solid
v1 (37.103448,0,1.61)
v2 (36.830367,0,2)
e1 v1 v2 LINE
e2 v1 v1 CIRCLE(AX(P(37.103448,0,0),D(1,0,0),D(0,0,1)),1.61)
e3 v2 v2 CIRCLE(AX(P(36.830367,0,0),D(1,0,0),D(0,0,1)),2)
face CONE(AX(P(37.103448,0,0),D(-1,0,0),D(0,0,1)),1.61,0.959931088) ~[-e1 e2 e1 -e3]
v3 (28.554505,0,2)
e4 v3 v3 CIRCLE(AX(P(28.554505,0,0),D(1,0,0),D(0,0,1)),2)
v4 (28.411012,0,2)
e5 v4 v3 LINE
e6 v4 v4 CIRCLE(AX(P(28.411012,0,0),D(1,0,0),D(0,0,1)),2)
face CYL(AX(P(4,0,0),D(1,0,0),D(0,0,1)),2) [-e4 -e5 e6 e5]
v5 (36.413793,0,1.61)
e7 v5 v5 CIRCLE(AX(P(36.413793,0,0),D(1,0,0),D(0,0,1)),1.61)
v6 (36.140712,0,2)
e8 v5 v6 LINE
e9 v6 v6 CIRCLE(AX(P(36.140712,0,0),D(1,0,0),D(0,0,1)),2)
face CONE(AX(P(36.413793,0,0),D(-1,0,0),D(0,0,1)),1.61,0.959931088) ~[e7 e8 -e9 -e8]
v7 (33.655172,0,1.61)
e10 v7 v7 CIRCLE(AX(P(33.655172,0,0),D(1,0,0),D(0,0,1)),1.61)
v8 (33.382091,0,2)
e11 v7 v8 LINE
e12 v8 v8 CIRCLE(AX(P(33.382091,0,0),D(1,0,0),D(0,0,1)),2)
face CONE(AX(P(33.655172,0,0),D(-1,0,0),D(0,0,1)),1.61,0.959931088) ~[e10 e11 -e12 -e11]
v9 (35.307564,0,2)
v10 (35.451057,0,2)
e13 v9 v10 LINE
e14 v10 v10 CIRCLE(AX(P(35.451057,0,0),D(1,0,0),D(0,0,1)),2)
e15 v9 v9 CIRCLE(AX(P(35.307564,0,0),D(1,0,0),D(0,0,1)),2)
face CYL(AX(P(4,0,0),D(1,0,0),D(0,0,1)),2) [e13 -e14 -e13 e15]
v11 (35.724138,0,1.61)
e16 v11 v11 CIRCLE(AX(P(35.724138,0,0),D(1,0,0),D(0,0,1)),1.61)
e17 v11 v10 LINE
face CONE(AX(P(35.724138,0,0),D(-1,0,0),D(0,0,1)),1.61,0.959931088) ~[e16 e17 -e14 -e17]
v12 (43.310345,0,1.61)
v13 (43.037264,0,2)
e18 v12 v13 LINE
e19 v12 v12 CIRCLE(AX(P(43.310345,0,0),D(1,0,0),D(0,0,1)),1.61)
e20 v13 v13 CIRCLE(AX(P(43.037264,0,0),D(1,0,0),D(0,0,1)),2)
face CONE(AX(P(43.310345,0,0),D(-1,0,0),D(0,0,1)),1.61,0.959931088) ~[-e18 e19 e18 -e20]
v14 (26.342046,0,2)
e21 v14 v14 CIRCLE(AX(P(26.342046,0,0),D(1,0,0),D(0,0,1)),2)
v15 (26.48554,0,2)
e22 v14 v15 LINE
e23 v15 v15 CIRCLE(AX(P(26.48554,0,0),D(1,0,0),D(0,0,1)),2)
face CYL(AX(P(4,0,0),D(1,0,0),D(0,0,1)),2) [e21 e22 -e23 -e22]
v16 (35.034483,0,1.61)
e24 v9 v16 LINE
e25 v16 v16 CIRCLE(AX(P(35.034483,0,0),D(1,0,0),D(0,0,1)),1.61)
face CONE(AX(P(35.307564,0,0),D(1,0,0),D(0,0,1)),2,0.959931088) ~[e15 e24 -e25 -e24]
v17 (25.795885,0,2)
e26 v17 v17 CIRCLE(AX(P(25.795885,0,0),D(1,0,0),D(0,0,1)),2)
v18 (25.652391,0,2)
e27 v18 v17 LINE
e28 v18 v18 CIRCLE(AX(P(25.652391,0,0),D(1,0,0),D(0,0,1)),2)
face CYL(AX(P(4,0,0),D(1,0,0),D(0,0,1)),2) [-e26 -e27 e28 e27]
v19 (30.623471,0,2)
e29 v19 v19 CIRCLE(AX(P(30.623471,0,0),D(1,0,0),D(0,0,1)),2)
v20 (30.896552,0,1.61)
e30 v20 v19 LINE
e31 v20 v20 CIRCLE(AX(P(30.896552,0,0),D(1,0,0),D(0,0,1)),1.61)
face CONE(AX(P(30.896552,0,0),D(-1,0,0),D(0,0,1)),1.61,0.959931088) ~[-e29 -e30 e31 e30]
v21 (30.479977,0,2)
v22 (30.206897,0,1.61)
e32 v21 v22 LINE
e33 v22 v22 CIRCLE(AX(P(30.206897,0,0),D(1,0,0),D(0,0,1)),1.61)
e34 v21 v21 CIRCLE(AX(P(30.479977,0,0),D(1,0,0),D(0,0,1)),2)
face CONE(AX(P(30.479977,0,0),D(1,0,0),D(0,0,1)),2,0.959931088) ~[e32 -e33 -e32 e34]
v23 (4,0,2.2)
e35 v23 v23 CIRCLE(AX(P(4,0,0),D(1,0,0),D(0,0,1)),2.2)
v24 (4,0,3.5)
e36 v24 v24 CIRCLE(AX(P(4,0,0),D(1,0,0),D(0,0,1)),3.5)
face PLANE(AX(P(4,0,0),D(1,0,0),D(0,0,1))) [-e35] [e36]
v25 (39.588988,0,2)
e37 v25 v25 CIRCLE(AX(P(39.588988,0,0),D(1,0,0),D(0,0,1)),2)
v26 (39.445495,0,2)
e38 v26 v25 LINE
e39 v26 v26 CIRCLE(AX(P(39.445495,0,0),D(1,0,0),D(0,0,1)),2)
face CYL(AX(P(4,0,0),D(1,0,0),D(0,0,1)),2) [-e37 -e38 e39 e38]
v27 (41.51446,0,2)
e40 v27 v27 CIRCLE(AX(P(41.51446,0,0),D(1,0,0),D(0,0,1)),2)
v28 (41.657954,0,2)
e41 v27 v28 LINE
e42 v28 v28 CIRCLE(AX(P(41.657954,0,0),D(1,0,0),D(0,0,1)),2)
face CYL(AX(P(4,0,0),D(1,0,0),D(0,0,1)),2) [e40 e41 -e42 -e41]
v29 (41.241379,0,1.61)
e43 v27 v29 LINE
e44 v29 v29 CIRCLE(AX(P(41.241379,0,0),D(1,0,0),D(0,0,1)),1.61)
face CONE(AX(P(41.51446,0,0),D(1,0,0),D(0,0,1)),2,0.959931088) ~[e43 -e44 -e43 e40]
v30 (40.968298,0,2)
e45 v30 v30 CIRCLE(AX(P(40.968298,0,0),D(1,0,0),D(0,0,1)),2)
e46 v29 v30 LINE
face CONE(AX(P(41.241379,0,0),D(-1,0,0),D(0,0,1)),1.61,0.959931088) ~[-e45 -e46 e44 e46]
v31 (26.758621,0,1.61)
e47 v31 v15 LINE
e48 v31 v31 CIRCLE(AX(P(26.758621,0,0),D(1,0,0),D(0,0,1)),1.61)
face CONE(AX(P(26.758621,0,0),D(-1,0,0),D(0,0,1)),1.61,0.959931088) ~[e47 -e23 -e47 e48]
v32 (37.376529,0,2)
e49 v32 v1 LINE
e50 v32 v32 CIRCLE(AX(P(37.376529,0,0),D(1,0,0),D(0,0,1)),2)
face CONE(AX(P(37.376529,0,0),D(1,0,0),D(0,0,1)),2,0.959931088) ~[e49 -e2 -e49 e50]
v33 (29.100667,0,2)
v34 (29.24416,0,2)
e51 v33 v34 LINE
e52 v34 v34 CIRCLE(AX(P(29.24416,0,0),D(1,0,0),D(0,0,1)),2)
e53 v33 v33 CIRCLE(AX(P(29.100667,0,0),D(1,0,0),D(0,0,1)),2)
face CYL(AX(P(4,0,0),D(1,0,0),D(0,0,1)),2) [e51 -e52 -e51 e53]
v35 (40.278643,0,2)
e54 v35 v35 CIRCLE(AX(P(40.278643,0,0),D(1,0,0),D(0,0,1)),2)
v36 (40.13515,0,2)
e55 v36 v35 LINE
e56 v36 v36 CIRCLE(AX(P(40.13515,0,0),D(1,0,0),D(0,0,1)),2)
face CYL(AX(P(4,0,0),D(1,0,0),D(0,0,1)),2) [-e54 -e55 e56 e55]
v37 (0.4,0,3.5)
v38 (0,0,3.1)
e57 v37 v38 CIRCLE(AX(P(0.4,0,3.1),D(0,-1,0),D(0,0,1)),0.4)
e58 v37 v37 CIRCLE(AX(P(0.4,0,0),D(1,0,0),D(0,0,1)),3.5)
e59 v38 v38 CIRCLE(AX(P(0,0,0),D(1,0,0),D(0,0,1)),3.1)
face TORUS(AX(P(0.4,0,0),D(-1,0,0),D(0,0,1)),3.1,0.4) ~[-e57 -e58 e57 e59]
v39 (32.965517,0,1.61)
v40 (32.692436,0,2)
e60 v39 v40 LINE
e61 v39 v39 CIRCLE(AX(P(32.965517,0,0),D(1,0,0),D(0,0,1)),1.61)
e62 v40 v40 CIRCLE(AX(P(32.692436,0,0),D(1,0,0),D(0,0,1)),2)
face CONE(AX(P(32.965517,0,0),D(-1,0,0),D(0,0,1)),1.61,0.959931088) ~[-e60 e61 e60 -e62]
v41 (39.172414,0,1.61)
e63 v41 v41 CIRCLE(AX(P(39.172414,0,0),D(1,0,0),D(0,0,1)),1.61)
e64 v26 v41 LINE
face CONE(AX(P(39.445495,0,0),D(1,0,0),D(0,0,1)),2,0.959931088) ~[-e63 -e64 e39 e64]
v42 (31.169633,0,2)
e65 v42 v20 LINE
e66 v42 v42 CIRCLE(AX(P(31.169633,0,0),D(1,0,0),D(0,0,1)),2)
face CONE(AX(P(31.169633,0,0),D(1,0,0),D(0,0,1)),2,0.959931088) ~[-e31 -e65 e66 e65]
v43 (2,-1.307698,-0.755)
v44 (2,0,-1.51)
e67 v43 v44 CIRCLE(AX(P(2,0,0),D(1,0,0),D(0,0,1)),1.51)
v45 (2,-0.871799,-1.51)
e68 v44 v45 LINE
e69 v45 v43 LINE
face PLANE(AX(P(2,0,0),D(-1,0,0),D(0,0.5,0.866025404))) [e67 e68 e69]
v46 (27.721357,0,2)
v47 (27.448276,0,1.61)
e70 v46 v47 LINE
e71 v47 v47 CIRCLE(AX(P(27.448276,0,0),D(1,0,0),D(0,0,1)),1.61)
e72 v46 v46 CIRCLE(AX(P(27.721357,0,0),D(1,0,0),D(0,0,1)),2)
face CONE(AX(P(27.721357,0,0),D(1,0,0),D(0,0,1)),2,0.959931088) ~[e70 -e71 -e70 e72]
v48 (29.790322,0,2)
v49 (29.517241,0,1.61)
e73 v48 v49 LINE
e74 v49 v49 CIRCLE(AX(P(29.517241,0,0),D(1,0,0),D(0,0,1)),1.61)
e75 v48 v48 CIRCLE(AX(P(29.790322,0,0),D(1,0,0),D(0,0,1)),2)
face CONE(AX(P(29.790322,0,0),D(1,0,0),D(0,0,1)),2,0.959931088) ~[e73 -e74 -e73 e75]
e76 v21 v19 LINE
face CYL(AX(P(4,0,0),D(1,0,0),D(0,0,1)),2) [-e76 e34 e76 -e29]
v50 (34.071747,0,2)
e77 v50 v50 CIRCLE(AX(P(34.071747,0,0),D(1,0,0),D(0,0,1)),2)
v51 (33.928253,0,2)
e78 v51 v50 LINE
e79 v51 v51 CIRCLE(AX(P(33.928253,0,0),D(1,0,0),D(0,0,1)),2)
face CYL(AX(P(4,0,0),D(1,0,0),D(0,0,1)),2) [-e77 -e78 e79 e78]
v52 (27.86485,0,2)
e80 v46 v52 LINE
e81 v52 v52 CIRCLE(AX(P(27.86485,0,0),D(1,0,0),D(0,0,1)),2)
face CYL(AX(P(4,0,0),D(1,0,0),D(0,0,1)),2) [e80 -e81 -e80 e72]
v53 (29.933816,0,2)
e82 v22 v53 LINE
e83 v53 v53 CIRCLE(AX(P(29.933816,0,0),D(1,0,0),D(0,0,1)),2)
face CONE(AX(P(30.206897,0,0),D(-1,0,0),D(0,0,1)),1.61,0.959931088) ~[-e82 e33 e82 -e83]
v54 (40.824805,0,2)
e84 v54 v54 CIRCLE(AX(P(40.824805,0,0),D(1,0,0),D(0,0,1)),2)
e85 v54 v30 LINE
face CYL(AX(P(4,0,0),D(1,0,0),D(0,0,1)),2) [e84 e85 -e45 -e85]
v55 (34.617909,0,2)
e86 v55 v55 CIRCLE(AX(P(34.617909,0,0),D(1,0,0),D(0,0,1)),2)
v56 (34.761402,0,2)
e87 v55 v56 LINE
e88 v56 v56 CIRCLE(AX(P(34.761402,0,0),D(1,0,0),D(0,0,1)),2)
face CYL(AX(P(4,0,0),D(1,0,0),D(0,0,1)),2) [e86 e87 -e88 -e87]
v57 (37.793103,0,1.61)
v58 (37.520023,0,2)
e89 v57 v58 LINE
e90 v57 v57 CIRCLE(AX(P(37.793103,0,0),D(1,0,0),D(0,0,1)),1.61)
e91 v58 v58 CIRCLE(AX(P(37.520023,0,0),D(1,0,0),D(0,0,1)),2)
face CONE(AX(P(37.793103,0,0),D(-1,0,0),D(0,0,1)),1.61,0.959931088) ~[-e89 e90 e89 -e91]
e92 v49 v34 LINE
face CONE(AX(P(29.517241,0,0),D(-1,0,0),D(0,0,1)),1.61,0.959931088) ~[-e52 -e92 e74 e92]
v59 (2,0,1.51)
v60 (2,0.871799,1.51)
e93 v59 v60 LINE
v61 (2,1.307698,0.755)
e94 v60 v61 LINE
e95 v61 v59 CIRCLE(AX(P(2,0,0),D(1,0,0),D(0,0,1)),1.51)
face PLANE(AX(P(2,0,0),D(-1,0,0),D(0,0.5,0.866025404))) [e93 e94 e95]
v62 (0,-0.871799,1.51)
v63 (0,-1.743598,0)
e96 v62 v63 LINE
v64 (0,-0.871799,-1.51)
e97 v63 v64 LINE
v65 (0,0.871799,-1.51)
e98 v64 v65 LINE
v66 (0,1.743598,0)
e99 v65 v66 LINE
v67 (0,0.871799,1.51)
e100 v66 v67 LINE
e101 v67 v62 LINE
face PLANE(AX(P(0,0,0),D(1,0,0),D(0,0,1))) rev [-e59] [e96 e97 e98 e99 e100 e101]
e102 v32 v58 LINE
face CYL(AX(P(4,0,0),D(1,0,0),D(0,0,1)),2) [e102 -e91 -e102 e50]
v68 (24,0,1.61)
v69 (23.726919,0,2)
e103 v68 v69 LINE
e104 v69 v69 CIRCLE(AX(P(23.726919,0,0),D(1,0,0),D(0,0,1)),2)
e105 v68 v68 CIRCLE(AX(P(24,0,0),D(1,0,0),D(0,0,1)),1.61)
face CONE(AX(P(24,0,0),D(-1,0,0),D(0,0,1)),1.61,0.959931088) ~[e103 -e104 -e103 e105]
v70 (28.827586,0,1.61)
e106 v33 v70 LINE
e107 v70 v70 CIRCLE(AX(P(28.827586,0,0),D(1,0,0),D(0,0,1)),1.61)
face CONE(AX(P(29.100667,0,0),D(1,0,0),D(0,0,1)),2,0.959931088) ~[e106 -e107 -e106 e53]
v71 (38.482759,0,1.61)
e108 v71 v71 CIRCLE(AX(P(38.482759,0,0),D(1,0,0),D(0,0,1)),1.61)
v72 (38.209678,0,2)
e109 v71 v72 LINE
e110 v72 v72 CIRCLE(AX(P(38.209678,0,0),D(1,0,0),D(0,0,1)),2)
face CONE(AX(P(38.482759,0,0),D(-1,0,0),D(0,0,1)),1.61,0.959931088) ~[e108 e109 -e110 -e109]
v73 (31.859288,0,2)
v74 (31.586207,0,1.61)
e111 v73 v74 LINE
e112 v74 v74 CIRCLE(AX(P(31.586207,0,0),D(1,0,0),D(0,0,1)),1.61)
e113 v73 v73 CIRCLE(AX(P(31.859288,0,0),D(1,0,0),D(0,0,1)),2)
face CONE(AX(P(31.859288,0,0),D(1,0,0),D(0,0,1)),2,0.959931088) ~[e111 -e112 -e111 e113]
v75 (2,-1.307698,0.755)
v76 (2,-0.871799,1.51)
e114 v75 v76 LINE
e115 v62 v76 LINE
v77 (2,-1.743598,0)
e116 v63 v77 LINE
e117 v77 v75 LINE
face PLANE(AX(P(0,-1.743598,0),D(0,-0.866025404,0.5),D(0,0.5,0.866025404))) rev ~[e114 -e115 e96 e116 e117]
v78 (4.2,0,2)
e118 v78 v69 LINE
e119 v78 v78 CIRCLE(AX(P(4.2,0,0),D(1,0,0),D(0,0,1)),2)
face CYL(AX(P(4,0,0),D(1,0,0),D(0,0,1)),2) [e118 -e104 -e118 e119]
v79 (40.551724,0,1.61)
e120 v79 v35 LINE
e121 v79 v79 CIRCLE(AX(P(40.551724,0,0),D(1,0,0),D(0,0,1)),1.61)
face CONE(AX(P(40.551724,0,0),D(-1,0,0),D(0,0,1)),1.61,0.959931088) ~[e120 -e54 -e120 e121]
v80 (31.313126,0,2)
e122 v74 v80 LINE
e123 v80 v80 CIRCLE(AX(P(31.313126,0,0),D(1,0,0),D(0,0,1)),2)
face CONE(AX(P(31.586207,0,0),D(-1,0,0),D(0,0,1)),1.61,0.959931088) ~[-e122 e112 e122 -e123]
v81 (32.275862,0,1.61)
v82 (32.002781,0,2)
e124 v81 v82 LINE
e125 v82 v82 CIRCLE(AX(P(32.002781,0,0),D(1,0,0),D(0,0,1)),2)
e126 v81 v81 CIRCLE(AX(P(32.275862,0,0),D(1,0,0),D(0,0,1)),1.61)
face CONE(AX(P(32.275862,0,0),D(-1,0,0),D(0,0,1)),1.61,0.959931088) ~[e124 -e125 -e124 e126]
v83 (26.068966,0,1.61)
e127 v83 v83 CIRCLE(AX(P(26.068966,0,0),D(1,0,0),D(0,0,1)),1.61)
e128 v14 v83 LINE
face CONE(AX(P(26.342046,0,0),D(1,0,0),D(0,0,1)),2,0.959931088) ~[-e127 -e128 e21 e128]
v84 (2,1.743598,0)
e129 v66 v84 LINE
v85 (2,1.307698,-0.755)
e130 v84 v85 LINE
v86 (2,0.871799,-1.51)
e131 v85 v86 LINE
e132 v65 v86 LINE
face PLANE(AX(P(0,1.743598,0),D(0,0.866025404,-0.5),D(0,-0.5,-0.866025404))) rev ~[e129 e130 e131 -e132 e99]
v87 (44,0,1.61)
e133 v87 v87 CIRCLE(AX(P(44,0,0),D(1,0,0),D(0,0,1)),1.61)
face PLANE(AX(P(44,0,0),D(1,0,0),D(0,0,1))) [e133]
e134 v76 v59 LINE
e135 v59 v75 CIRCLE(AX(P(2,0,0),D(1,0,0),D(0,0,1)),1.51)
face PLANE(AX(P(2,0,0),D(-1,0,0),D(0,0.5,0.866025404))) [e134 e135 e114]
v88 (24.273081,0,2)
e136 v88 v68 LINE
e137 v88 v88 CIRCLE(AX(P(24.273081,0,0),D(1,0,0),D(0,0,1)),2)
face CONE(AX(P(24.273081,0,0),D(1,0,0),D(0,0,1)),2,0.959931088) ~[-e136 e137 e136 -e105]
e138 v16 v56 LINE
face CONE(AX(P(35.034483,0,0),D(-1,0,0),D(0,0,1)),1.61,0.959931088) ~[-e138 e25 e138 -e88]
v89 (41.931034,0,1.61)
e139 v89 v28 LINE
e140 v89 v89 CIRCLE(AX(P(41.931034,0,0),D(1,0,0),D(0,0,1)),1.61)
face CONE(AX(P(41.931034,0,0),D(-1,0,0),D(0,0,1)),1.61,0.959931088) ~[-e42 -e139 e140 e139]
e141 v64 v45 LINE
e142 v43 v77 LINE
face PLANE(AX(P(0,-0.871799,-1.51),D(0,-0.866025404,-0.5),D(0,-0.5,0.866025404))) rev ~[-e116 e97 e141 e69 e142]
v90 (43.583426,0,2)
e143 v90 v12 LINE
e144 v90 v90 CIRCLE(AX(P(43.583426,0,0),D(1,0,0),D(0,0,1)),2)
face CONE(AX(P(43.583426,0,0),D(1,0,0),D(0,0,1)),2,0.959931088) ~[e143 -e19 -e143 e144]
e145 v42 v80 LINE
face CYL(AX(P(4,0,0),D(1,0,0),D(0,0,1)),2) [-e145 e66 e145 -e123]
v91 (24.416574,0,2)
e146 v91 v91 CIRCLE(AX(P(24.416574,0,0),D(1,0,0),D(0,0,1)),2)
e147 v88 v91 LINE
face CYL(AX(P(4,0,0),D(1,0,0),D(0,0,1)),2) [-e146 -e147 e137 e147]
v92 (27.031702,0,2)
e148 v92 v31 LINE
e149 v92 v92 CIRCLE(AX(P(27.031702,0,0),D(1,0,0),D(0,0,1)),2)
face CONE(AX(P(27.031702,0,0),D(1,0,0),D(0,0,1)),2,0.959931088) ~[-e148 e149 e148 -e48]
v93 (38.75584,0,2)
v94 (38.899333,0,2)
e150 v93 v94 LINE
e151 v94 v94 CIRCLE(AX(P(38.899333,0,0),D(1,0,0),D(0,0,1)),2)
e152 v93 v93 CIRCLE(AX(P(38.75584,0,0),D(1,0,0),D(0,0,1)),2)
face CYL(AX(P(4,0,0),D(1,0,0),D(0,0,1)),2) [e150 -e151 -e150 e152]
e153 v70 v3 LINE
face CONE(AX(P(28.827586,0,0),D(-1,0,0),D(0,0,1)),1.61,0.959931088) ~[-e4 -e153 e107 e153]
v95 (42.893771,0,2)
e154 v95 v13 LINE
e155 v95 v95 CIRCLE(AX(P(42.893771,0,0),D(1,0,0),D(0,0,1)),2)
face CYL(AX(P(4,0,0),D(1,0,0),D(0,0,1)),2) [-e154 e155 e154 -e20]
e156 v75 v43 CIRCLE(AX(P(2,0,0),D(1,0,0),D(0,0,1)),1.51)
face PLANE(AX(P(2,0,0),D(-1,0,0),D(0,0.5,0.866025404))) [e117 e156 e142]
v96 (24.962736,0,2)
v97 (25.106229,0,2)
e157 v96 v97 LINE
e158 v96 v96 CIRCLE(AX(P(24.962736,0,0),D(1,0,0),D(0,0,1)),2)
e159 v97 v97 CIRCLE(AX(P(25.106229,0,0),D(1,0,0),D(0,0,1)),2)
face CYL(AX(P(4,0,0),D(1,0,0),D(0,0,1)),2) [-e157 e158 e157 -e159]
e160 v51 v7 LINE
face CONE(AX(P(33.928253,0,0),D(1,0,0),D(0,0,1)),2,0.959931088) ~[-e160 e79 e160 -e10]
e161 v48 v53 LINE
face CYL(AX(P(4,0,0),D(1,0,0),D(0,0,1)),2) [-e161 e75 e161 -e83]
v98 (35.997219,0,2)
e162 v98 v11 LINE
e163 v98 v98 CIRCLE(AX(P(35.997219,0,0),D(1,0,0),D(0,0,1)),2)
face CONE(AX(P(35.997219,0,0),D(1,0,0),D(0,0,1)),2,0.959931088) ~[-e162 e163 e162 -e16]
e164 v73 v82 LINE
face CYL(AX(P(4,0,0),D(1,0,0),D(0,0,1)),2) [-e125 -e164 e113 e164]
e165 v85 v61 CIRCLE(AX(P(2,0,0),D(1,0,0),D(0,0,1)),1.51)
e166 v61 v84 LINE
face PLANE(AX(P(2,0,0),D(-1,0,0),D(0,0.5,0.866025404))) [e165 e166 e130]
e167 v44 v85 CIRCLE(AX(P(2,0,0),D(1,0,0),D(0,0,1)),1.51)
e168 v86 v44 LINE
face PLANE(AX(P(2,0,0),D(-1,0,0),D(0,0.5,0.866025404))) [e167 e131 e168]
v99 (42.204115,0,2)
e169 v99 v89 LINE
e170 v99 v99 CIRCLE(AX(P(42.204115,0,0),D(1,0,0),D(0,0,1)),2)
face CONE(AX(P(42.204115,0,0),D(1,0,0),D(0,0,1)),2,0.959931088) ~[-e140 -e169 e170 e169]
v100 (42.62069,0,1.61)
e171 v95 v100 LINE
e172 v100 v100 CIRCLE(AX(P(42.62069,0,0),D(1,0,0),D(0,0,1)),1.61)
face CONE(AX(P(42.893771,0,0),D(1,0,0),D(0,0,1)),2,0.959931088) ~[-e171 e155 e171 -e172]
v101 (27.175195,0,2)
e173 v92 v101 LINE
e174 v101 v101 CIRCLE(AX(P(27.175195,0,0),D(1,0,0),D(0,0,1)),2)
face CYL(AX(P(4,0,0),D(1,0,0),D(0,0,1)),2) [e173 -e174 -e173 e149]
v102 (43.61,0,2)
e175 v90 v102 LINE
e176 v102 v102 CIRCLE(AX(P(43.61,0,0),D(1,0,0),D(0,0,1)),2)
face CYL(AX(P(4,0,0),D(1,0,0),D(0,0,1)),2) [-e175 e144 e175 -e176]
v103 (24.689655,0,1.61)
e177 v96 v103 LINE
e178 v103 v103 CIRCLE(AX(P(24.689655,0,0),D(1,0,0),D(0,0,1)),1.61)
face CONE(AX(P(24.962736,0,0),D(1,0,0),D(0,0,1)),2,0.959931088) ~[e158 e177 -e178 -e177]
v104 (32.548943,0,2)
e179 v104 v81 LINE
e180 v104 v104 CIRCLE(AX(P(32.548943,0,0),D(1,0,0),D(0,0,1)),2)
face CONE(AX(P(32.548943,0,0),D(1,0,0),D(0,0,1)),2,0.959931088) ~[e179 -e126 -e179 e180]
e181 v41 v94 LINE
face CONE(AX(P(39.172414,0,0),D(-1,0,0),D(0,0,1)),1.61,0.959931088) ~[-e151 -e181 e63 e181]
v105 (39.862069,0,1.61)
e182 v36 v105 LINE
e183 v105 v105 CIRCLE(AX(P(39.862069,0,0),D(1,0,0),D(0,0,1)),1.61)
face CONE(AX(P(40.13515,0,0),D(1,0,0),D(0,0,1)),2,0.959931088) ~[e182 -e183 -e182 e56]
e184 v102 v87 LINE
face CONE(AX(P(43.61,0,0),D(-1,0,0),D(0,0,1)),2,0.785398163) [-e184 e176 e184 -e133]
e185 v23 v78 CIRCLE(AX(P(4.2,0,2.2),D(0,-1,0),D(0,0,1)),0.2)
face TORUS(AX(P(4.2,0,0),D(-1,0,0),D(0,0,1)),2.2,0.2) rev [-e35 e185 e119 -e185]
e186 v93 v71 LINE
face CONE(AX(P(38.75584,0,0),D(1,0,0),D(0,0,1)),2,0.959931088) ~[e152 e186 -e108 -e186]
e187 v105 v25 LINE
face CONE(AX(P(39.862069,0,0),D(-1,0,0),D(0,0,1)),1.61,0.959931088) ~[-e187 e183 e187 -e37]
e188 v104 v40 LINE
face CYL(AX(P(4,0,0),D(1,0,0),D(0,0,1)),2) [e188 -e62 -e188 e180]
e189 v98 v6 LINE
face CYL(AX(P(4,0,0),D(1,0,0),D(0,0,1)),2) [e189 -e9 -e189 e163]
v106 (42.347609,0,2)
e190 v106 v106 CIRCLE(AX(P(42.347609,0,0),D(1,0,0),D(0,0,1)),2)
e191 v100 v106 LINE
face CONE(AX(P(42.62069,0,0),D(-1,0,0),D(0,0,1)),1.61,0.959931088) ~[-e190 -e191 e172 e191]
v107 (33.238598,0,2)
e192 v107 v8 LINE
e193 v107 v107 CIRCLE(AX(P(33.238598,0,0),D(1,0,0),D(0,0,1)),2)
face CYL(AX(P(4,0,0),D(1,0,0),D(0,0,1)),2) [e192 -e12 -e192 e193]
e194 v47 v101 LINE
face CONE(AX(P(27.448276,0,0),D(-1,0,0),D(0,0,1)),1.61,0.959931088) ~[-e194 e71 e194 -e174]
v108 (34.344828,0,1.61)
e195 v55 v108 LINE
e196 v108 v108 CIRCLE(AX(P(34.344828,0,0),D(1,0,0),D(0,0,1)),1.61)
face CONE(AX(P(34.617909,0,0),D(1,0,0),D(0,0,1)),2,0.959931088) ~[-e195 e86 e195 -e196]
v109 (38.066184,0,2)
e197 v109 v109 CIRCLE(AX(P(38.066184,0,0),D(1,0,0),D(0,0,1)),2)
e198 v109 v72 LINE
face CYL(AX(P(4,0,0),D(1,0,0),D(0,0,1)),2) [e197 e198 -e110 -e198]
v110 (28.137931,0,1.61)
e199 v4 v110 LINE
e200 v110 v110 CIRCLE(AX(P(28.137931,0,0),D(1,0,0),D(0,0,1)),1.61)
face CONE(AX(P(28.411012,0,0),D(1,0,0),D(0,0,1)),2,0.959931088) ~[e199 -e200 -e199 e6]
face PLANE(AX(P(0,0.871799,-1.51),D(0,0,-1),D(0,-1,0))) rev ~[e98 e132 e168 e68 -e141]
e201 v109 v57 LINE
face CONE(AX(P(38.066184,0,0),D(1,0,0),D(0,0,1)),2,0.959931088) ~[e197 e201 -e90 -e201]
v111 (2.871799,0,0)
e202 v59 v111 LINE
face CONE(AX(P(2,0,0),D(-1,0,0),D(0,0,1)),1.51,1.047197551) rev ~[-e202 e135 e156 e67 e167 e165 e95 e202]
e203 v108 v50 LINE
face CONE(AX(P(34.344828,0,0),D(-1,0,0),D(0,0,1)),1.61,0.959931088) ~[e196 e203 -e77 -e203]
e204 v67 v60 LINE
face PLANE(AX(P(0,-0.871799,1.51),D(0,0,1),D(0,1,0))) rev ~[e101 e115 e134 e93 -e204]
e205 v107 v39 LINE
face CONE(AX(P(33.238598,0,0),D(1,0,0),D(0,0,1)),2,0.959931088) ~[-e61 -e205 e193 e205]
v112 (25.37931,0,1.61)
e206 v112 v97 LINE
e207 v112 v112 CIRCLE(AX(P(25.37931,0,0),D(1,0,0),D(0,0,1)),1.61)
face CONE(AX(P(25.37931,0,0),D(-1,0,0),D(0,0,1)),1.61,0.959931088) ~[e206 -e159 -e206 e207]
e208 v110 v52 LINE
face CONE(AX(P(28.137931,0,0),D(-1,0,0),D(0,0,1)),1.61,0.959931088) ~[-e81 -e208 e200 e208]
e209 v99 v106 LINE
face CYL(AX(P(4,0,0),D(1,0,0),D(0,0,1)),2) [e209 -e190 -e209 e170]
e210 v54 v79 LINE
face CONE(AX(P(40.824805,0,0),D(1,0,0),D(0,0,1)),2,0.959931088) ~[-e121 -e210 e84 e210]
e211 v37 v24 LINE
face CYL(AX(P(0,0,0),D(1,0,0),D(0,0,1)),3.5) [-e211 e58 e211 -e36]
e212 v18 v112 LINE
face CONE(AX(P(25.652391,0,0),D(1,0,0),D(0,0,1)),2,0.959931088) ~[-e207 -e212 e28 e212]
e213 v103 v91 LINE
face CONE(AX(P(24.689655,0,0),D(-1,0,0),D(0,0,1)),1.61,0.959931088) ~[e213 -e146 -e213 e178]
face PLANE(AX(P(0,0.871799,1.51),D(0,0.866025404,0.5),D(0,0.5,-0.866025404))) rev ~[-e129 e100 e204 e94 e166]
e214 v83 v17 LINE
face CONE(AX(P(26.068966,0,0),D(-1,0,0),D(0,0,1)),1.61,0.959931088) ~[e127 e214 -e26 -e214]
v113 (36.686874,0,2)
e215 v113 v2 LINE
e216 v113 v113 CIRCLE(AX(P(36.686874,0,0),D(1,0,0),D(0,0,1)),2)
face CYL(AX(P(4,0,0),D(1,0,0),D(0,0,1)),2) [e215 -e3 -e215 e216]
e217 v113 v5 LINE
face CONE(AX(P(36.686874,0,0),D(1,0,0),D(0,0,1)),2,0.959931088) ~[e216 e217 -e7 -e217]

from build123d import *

# Parameters (mm, degrees)
FILLET1_R       = 0.2
FILLET2_R       = 0.4
HEX_2_DEPTH     = 2
THDSCHPAT_COUNT = 29
THDSCHPAT_PITCH = 0.689655172


with BuildPart() as part:
    # BodySke → Base-Revolve (revolve)
    with BuildSketch(Plane.XY, mode=Mode.PRIVATE) as base_revolve_sk:
        Polygon((0, 0), (0, 3.5), (4, 3.5), (4, 2), (43.61, 2), (44, 1.61), (44, 0), align=None)
    revolve(base_revolve_sk.sketch.rotate(Axis((-31.75, 0, 0), (1, 0, 0)), 90), axis=Axis((-31.75, 0, 0), (1, 0, 0)))  # turned: the seam where the file's is

    # Fillet1
    fillet1_edges = [part.edges().sort_by_distance(p)[0] for p in [
        (4, 0, -2),
    ]]
    fillet(fillet1_edges, radius=FILLET1_R)

    # Fillet2
    fillet2_edges = [part.edges().sort_by_distance(p)[0] for p in [
        (0, 0, -3.5),
    ]]
    fillet(fillet2_edges, radius=FILLET2_R)

    # Sketch2 → Hex-PreBroach (revolve, cut)
    with BuildSketch(Plane.XY, mode=Mode.PRIVATE) as hex_prebroach_sk:
        Polygon((0, 1.51), (2, 1.51), (2.871798906, 0), (0, 0), align=None)
    revolve(hex_prebroach_sk.sketch.rotate(Axis((0, 0, 0), (1, 0, 0)), 90), axis=Axis((0, 0, 0), (1, 0, 0)), mode=Mode.SUBTRACT)  # turned: the seam where the file's is

    # Sketch3 → Hex 2 (cut)
    with BuildSketch(Plane(origin=(0, 0, 0), x_dir=(0, 0.5, 0.866025404), z_dir=(-1, 0, 0))):
        Polygon((0.871798906, 1.51), (-0.871798906, 1.51), (-1.743597813, 0), (-0.871798906, -1.51), (0.871798906, -1.51), (1.743597813, 0), align=None)
    extrude(amount=-HEX_2_DEPTH, mode=Mode.SUBTRACT)

    # ThdSchSke → ThreadSchematic (revolve, cut)
    with BuildSketch(Plane.XY, mode=Mode.PRIVATE) as threadschematic_sk:
        Polygon((24, -1.61), (23.72691906, -2), (23.72691906, -2.5), (24.27308094, -2.5), (24.27308094, -2), align=None)
    threadschematic = revolve(threadschematic_sk.sketch.rotate(Axis((-3.175, 0, 0), (1, 0, 0)), 270), axis=Axis((-3.175, 0, 0), (1, 0, 0)), mode=Mode.SUBTRACT)  # turned: the seam where the file's is

    # ThdSchPat: ThreadSchematic ×29
    with Locations(*[(i * THDSCHPAT_PITCH, 0, 0) for i in range(1, THDSCHPAT_COUNT)]):
        add(threadschematic, mode=Mode.SUBTRACT)


solid = part.part
